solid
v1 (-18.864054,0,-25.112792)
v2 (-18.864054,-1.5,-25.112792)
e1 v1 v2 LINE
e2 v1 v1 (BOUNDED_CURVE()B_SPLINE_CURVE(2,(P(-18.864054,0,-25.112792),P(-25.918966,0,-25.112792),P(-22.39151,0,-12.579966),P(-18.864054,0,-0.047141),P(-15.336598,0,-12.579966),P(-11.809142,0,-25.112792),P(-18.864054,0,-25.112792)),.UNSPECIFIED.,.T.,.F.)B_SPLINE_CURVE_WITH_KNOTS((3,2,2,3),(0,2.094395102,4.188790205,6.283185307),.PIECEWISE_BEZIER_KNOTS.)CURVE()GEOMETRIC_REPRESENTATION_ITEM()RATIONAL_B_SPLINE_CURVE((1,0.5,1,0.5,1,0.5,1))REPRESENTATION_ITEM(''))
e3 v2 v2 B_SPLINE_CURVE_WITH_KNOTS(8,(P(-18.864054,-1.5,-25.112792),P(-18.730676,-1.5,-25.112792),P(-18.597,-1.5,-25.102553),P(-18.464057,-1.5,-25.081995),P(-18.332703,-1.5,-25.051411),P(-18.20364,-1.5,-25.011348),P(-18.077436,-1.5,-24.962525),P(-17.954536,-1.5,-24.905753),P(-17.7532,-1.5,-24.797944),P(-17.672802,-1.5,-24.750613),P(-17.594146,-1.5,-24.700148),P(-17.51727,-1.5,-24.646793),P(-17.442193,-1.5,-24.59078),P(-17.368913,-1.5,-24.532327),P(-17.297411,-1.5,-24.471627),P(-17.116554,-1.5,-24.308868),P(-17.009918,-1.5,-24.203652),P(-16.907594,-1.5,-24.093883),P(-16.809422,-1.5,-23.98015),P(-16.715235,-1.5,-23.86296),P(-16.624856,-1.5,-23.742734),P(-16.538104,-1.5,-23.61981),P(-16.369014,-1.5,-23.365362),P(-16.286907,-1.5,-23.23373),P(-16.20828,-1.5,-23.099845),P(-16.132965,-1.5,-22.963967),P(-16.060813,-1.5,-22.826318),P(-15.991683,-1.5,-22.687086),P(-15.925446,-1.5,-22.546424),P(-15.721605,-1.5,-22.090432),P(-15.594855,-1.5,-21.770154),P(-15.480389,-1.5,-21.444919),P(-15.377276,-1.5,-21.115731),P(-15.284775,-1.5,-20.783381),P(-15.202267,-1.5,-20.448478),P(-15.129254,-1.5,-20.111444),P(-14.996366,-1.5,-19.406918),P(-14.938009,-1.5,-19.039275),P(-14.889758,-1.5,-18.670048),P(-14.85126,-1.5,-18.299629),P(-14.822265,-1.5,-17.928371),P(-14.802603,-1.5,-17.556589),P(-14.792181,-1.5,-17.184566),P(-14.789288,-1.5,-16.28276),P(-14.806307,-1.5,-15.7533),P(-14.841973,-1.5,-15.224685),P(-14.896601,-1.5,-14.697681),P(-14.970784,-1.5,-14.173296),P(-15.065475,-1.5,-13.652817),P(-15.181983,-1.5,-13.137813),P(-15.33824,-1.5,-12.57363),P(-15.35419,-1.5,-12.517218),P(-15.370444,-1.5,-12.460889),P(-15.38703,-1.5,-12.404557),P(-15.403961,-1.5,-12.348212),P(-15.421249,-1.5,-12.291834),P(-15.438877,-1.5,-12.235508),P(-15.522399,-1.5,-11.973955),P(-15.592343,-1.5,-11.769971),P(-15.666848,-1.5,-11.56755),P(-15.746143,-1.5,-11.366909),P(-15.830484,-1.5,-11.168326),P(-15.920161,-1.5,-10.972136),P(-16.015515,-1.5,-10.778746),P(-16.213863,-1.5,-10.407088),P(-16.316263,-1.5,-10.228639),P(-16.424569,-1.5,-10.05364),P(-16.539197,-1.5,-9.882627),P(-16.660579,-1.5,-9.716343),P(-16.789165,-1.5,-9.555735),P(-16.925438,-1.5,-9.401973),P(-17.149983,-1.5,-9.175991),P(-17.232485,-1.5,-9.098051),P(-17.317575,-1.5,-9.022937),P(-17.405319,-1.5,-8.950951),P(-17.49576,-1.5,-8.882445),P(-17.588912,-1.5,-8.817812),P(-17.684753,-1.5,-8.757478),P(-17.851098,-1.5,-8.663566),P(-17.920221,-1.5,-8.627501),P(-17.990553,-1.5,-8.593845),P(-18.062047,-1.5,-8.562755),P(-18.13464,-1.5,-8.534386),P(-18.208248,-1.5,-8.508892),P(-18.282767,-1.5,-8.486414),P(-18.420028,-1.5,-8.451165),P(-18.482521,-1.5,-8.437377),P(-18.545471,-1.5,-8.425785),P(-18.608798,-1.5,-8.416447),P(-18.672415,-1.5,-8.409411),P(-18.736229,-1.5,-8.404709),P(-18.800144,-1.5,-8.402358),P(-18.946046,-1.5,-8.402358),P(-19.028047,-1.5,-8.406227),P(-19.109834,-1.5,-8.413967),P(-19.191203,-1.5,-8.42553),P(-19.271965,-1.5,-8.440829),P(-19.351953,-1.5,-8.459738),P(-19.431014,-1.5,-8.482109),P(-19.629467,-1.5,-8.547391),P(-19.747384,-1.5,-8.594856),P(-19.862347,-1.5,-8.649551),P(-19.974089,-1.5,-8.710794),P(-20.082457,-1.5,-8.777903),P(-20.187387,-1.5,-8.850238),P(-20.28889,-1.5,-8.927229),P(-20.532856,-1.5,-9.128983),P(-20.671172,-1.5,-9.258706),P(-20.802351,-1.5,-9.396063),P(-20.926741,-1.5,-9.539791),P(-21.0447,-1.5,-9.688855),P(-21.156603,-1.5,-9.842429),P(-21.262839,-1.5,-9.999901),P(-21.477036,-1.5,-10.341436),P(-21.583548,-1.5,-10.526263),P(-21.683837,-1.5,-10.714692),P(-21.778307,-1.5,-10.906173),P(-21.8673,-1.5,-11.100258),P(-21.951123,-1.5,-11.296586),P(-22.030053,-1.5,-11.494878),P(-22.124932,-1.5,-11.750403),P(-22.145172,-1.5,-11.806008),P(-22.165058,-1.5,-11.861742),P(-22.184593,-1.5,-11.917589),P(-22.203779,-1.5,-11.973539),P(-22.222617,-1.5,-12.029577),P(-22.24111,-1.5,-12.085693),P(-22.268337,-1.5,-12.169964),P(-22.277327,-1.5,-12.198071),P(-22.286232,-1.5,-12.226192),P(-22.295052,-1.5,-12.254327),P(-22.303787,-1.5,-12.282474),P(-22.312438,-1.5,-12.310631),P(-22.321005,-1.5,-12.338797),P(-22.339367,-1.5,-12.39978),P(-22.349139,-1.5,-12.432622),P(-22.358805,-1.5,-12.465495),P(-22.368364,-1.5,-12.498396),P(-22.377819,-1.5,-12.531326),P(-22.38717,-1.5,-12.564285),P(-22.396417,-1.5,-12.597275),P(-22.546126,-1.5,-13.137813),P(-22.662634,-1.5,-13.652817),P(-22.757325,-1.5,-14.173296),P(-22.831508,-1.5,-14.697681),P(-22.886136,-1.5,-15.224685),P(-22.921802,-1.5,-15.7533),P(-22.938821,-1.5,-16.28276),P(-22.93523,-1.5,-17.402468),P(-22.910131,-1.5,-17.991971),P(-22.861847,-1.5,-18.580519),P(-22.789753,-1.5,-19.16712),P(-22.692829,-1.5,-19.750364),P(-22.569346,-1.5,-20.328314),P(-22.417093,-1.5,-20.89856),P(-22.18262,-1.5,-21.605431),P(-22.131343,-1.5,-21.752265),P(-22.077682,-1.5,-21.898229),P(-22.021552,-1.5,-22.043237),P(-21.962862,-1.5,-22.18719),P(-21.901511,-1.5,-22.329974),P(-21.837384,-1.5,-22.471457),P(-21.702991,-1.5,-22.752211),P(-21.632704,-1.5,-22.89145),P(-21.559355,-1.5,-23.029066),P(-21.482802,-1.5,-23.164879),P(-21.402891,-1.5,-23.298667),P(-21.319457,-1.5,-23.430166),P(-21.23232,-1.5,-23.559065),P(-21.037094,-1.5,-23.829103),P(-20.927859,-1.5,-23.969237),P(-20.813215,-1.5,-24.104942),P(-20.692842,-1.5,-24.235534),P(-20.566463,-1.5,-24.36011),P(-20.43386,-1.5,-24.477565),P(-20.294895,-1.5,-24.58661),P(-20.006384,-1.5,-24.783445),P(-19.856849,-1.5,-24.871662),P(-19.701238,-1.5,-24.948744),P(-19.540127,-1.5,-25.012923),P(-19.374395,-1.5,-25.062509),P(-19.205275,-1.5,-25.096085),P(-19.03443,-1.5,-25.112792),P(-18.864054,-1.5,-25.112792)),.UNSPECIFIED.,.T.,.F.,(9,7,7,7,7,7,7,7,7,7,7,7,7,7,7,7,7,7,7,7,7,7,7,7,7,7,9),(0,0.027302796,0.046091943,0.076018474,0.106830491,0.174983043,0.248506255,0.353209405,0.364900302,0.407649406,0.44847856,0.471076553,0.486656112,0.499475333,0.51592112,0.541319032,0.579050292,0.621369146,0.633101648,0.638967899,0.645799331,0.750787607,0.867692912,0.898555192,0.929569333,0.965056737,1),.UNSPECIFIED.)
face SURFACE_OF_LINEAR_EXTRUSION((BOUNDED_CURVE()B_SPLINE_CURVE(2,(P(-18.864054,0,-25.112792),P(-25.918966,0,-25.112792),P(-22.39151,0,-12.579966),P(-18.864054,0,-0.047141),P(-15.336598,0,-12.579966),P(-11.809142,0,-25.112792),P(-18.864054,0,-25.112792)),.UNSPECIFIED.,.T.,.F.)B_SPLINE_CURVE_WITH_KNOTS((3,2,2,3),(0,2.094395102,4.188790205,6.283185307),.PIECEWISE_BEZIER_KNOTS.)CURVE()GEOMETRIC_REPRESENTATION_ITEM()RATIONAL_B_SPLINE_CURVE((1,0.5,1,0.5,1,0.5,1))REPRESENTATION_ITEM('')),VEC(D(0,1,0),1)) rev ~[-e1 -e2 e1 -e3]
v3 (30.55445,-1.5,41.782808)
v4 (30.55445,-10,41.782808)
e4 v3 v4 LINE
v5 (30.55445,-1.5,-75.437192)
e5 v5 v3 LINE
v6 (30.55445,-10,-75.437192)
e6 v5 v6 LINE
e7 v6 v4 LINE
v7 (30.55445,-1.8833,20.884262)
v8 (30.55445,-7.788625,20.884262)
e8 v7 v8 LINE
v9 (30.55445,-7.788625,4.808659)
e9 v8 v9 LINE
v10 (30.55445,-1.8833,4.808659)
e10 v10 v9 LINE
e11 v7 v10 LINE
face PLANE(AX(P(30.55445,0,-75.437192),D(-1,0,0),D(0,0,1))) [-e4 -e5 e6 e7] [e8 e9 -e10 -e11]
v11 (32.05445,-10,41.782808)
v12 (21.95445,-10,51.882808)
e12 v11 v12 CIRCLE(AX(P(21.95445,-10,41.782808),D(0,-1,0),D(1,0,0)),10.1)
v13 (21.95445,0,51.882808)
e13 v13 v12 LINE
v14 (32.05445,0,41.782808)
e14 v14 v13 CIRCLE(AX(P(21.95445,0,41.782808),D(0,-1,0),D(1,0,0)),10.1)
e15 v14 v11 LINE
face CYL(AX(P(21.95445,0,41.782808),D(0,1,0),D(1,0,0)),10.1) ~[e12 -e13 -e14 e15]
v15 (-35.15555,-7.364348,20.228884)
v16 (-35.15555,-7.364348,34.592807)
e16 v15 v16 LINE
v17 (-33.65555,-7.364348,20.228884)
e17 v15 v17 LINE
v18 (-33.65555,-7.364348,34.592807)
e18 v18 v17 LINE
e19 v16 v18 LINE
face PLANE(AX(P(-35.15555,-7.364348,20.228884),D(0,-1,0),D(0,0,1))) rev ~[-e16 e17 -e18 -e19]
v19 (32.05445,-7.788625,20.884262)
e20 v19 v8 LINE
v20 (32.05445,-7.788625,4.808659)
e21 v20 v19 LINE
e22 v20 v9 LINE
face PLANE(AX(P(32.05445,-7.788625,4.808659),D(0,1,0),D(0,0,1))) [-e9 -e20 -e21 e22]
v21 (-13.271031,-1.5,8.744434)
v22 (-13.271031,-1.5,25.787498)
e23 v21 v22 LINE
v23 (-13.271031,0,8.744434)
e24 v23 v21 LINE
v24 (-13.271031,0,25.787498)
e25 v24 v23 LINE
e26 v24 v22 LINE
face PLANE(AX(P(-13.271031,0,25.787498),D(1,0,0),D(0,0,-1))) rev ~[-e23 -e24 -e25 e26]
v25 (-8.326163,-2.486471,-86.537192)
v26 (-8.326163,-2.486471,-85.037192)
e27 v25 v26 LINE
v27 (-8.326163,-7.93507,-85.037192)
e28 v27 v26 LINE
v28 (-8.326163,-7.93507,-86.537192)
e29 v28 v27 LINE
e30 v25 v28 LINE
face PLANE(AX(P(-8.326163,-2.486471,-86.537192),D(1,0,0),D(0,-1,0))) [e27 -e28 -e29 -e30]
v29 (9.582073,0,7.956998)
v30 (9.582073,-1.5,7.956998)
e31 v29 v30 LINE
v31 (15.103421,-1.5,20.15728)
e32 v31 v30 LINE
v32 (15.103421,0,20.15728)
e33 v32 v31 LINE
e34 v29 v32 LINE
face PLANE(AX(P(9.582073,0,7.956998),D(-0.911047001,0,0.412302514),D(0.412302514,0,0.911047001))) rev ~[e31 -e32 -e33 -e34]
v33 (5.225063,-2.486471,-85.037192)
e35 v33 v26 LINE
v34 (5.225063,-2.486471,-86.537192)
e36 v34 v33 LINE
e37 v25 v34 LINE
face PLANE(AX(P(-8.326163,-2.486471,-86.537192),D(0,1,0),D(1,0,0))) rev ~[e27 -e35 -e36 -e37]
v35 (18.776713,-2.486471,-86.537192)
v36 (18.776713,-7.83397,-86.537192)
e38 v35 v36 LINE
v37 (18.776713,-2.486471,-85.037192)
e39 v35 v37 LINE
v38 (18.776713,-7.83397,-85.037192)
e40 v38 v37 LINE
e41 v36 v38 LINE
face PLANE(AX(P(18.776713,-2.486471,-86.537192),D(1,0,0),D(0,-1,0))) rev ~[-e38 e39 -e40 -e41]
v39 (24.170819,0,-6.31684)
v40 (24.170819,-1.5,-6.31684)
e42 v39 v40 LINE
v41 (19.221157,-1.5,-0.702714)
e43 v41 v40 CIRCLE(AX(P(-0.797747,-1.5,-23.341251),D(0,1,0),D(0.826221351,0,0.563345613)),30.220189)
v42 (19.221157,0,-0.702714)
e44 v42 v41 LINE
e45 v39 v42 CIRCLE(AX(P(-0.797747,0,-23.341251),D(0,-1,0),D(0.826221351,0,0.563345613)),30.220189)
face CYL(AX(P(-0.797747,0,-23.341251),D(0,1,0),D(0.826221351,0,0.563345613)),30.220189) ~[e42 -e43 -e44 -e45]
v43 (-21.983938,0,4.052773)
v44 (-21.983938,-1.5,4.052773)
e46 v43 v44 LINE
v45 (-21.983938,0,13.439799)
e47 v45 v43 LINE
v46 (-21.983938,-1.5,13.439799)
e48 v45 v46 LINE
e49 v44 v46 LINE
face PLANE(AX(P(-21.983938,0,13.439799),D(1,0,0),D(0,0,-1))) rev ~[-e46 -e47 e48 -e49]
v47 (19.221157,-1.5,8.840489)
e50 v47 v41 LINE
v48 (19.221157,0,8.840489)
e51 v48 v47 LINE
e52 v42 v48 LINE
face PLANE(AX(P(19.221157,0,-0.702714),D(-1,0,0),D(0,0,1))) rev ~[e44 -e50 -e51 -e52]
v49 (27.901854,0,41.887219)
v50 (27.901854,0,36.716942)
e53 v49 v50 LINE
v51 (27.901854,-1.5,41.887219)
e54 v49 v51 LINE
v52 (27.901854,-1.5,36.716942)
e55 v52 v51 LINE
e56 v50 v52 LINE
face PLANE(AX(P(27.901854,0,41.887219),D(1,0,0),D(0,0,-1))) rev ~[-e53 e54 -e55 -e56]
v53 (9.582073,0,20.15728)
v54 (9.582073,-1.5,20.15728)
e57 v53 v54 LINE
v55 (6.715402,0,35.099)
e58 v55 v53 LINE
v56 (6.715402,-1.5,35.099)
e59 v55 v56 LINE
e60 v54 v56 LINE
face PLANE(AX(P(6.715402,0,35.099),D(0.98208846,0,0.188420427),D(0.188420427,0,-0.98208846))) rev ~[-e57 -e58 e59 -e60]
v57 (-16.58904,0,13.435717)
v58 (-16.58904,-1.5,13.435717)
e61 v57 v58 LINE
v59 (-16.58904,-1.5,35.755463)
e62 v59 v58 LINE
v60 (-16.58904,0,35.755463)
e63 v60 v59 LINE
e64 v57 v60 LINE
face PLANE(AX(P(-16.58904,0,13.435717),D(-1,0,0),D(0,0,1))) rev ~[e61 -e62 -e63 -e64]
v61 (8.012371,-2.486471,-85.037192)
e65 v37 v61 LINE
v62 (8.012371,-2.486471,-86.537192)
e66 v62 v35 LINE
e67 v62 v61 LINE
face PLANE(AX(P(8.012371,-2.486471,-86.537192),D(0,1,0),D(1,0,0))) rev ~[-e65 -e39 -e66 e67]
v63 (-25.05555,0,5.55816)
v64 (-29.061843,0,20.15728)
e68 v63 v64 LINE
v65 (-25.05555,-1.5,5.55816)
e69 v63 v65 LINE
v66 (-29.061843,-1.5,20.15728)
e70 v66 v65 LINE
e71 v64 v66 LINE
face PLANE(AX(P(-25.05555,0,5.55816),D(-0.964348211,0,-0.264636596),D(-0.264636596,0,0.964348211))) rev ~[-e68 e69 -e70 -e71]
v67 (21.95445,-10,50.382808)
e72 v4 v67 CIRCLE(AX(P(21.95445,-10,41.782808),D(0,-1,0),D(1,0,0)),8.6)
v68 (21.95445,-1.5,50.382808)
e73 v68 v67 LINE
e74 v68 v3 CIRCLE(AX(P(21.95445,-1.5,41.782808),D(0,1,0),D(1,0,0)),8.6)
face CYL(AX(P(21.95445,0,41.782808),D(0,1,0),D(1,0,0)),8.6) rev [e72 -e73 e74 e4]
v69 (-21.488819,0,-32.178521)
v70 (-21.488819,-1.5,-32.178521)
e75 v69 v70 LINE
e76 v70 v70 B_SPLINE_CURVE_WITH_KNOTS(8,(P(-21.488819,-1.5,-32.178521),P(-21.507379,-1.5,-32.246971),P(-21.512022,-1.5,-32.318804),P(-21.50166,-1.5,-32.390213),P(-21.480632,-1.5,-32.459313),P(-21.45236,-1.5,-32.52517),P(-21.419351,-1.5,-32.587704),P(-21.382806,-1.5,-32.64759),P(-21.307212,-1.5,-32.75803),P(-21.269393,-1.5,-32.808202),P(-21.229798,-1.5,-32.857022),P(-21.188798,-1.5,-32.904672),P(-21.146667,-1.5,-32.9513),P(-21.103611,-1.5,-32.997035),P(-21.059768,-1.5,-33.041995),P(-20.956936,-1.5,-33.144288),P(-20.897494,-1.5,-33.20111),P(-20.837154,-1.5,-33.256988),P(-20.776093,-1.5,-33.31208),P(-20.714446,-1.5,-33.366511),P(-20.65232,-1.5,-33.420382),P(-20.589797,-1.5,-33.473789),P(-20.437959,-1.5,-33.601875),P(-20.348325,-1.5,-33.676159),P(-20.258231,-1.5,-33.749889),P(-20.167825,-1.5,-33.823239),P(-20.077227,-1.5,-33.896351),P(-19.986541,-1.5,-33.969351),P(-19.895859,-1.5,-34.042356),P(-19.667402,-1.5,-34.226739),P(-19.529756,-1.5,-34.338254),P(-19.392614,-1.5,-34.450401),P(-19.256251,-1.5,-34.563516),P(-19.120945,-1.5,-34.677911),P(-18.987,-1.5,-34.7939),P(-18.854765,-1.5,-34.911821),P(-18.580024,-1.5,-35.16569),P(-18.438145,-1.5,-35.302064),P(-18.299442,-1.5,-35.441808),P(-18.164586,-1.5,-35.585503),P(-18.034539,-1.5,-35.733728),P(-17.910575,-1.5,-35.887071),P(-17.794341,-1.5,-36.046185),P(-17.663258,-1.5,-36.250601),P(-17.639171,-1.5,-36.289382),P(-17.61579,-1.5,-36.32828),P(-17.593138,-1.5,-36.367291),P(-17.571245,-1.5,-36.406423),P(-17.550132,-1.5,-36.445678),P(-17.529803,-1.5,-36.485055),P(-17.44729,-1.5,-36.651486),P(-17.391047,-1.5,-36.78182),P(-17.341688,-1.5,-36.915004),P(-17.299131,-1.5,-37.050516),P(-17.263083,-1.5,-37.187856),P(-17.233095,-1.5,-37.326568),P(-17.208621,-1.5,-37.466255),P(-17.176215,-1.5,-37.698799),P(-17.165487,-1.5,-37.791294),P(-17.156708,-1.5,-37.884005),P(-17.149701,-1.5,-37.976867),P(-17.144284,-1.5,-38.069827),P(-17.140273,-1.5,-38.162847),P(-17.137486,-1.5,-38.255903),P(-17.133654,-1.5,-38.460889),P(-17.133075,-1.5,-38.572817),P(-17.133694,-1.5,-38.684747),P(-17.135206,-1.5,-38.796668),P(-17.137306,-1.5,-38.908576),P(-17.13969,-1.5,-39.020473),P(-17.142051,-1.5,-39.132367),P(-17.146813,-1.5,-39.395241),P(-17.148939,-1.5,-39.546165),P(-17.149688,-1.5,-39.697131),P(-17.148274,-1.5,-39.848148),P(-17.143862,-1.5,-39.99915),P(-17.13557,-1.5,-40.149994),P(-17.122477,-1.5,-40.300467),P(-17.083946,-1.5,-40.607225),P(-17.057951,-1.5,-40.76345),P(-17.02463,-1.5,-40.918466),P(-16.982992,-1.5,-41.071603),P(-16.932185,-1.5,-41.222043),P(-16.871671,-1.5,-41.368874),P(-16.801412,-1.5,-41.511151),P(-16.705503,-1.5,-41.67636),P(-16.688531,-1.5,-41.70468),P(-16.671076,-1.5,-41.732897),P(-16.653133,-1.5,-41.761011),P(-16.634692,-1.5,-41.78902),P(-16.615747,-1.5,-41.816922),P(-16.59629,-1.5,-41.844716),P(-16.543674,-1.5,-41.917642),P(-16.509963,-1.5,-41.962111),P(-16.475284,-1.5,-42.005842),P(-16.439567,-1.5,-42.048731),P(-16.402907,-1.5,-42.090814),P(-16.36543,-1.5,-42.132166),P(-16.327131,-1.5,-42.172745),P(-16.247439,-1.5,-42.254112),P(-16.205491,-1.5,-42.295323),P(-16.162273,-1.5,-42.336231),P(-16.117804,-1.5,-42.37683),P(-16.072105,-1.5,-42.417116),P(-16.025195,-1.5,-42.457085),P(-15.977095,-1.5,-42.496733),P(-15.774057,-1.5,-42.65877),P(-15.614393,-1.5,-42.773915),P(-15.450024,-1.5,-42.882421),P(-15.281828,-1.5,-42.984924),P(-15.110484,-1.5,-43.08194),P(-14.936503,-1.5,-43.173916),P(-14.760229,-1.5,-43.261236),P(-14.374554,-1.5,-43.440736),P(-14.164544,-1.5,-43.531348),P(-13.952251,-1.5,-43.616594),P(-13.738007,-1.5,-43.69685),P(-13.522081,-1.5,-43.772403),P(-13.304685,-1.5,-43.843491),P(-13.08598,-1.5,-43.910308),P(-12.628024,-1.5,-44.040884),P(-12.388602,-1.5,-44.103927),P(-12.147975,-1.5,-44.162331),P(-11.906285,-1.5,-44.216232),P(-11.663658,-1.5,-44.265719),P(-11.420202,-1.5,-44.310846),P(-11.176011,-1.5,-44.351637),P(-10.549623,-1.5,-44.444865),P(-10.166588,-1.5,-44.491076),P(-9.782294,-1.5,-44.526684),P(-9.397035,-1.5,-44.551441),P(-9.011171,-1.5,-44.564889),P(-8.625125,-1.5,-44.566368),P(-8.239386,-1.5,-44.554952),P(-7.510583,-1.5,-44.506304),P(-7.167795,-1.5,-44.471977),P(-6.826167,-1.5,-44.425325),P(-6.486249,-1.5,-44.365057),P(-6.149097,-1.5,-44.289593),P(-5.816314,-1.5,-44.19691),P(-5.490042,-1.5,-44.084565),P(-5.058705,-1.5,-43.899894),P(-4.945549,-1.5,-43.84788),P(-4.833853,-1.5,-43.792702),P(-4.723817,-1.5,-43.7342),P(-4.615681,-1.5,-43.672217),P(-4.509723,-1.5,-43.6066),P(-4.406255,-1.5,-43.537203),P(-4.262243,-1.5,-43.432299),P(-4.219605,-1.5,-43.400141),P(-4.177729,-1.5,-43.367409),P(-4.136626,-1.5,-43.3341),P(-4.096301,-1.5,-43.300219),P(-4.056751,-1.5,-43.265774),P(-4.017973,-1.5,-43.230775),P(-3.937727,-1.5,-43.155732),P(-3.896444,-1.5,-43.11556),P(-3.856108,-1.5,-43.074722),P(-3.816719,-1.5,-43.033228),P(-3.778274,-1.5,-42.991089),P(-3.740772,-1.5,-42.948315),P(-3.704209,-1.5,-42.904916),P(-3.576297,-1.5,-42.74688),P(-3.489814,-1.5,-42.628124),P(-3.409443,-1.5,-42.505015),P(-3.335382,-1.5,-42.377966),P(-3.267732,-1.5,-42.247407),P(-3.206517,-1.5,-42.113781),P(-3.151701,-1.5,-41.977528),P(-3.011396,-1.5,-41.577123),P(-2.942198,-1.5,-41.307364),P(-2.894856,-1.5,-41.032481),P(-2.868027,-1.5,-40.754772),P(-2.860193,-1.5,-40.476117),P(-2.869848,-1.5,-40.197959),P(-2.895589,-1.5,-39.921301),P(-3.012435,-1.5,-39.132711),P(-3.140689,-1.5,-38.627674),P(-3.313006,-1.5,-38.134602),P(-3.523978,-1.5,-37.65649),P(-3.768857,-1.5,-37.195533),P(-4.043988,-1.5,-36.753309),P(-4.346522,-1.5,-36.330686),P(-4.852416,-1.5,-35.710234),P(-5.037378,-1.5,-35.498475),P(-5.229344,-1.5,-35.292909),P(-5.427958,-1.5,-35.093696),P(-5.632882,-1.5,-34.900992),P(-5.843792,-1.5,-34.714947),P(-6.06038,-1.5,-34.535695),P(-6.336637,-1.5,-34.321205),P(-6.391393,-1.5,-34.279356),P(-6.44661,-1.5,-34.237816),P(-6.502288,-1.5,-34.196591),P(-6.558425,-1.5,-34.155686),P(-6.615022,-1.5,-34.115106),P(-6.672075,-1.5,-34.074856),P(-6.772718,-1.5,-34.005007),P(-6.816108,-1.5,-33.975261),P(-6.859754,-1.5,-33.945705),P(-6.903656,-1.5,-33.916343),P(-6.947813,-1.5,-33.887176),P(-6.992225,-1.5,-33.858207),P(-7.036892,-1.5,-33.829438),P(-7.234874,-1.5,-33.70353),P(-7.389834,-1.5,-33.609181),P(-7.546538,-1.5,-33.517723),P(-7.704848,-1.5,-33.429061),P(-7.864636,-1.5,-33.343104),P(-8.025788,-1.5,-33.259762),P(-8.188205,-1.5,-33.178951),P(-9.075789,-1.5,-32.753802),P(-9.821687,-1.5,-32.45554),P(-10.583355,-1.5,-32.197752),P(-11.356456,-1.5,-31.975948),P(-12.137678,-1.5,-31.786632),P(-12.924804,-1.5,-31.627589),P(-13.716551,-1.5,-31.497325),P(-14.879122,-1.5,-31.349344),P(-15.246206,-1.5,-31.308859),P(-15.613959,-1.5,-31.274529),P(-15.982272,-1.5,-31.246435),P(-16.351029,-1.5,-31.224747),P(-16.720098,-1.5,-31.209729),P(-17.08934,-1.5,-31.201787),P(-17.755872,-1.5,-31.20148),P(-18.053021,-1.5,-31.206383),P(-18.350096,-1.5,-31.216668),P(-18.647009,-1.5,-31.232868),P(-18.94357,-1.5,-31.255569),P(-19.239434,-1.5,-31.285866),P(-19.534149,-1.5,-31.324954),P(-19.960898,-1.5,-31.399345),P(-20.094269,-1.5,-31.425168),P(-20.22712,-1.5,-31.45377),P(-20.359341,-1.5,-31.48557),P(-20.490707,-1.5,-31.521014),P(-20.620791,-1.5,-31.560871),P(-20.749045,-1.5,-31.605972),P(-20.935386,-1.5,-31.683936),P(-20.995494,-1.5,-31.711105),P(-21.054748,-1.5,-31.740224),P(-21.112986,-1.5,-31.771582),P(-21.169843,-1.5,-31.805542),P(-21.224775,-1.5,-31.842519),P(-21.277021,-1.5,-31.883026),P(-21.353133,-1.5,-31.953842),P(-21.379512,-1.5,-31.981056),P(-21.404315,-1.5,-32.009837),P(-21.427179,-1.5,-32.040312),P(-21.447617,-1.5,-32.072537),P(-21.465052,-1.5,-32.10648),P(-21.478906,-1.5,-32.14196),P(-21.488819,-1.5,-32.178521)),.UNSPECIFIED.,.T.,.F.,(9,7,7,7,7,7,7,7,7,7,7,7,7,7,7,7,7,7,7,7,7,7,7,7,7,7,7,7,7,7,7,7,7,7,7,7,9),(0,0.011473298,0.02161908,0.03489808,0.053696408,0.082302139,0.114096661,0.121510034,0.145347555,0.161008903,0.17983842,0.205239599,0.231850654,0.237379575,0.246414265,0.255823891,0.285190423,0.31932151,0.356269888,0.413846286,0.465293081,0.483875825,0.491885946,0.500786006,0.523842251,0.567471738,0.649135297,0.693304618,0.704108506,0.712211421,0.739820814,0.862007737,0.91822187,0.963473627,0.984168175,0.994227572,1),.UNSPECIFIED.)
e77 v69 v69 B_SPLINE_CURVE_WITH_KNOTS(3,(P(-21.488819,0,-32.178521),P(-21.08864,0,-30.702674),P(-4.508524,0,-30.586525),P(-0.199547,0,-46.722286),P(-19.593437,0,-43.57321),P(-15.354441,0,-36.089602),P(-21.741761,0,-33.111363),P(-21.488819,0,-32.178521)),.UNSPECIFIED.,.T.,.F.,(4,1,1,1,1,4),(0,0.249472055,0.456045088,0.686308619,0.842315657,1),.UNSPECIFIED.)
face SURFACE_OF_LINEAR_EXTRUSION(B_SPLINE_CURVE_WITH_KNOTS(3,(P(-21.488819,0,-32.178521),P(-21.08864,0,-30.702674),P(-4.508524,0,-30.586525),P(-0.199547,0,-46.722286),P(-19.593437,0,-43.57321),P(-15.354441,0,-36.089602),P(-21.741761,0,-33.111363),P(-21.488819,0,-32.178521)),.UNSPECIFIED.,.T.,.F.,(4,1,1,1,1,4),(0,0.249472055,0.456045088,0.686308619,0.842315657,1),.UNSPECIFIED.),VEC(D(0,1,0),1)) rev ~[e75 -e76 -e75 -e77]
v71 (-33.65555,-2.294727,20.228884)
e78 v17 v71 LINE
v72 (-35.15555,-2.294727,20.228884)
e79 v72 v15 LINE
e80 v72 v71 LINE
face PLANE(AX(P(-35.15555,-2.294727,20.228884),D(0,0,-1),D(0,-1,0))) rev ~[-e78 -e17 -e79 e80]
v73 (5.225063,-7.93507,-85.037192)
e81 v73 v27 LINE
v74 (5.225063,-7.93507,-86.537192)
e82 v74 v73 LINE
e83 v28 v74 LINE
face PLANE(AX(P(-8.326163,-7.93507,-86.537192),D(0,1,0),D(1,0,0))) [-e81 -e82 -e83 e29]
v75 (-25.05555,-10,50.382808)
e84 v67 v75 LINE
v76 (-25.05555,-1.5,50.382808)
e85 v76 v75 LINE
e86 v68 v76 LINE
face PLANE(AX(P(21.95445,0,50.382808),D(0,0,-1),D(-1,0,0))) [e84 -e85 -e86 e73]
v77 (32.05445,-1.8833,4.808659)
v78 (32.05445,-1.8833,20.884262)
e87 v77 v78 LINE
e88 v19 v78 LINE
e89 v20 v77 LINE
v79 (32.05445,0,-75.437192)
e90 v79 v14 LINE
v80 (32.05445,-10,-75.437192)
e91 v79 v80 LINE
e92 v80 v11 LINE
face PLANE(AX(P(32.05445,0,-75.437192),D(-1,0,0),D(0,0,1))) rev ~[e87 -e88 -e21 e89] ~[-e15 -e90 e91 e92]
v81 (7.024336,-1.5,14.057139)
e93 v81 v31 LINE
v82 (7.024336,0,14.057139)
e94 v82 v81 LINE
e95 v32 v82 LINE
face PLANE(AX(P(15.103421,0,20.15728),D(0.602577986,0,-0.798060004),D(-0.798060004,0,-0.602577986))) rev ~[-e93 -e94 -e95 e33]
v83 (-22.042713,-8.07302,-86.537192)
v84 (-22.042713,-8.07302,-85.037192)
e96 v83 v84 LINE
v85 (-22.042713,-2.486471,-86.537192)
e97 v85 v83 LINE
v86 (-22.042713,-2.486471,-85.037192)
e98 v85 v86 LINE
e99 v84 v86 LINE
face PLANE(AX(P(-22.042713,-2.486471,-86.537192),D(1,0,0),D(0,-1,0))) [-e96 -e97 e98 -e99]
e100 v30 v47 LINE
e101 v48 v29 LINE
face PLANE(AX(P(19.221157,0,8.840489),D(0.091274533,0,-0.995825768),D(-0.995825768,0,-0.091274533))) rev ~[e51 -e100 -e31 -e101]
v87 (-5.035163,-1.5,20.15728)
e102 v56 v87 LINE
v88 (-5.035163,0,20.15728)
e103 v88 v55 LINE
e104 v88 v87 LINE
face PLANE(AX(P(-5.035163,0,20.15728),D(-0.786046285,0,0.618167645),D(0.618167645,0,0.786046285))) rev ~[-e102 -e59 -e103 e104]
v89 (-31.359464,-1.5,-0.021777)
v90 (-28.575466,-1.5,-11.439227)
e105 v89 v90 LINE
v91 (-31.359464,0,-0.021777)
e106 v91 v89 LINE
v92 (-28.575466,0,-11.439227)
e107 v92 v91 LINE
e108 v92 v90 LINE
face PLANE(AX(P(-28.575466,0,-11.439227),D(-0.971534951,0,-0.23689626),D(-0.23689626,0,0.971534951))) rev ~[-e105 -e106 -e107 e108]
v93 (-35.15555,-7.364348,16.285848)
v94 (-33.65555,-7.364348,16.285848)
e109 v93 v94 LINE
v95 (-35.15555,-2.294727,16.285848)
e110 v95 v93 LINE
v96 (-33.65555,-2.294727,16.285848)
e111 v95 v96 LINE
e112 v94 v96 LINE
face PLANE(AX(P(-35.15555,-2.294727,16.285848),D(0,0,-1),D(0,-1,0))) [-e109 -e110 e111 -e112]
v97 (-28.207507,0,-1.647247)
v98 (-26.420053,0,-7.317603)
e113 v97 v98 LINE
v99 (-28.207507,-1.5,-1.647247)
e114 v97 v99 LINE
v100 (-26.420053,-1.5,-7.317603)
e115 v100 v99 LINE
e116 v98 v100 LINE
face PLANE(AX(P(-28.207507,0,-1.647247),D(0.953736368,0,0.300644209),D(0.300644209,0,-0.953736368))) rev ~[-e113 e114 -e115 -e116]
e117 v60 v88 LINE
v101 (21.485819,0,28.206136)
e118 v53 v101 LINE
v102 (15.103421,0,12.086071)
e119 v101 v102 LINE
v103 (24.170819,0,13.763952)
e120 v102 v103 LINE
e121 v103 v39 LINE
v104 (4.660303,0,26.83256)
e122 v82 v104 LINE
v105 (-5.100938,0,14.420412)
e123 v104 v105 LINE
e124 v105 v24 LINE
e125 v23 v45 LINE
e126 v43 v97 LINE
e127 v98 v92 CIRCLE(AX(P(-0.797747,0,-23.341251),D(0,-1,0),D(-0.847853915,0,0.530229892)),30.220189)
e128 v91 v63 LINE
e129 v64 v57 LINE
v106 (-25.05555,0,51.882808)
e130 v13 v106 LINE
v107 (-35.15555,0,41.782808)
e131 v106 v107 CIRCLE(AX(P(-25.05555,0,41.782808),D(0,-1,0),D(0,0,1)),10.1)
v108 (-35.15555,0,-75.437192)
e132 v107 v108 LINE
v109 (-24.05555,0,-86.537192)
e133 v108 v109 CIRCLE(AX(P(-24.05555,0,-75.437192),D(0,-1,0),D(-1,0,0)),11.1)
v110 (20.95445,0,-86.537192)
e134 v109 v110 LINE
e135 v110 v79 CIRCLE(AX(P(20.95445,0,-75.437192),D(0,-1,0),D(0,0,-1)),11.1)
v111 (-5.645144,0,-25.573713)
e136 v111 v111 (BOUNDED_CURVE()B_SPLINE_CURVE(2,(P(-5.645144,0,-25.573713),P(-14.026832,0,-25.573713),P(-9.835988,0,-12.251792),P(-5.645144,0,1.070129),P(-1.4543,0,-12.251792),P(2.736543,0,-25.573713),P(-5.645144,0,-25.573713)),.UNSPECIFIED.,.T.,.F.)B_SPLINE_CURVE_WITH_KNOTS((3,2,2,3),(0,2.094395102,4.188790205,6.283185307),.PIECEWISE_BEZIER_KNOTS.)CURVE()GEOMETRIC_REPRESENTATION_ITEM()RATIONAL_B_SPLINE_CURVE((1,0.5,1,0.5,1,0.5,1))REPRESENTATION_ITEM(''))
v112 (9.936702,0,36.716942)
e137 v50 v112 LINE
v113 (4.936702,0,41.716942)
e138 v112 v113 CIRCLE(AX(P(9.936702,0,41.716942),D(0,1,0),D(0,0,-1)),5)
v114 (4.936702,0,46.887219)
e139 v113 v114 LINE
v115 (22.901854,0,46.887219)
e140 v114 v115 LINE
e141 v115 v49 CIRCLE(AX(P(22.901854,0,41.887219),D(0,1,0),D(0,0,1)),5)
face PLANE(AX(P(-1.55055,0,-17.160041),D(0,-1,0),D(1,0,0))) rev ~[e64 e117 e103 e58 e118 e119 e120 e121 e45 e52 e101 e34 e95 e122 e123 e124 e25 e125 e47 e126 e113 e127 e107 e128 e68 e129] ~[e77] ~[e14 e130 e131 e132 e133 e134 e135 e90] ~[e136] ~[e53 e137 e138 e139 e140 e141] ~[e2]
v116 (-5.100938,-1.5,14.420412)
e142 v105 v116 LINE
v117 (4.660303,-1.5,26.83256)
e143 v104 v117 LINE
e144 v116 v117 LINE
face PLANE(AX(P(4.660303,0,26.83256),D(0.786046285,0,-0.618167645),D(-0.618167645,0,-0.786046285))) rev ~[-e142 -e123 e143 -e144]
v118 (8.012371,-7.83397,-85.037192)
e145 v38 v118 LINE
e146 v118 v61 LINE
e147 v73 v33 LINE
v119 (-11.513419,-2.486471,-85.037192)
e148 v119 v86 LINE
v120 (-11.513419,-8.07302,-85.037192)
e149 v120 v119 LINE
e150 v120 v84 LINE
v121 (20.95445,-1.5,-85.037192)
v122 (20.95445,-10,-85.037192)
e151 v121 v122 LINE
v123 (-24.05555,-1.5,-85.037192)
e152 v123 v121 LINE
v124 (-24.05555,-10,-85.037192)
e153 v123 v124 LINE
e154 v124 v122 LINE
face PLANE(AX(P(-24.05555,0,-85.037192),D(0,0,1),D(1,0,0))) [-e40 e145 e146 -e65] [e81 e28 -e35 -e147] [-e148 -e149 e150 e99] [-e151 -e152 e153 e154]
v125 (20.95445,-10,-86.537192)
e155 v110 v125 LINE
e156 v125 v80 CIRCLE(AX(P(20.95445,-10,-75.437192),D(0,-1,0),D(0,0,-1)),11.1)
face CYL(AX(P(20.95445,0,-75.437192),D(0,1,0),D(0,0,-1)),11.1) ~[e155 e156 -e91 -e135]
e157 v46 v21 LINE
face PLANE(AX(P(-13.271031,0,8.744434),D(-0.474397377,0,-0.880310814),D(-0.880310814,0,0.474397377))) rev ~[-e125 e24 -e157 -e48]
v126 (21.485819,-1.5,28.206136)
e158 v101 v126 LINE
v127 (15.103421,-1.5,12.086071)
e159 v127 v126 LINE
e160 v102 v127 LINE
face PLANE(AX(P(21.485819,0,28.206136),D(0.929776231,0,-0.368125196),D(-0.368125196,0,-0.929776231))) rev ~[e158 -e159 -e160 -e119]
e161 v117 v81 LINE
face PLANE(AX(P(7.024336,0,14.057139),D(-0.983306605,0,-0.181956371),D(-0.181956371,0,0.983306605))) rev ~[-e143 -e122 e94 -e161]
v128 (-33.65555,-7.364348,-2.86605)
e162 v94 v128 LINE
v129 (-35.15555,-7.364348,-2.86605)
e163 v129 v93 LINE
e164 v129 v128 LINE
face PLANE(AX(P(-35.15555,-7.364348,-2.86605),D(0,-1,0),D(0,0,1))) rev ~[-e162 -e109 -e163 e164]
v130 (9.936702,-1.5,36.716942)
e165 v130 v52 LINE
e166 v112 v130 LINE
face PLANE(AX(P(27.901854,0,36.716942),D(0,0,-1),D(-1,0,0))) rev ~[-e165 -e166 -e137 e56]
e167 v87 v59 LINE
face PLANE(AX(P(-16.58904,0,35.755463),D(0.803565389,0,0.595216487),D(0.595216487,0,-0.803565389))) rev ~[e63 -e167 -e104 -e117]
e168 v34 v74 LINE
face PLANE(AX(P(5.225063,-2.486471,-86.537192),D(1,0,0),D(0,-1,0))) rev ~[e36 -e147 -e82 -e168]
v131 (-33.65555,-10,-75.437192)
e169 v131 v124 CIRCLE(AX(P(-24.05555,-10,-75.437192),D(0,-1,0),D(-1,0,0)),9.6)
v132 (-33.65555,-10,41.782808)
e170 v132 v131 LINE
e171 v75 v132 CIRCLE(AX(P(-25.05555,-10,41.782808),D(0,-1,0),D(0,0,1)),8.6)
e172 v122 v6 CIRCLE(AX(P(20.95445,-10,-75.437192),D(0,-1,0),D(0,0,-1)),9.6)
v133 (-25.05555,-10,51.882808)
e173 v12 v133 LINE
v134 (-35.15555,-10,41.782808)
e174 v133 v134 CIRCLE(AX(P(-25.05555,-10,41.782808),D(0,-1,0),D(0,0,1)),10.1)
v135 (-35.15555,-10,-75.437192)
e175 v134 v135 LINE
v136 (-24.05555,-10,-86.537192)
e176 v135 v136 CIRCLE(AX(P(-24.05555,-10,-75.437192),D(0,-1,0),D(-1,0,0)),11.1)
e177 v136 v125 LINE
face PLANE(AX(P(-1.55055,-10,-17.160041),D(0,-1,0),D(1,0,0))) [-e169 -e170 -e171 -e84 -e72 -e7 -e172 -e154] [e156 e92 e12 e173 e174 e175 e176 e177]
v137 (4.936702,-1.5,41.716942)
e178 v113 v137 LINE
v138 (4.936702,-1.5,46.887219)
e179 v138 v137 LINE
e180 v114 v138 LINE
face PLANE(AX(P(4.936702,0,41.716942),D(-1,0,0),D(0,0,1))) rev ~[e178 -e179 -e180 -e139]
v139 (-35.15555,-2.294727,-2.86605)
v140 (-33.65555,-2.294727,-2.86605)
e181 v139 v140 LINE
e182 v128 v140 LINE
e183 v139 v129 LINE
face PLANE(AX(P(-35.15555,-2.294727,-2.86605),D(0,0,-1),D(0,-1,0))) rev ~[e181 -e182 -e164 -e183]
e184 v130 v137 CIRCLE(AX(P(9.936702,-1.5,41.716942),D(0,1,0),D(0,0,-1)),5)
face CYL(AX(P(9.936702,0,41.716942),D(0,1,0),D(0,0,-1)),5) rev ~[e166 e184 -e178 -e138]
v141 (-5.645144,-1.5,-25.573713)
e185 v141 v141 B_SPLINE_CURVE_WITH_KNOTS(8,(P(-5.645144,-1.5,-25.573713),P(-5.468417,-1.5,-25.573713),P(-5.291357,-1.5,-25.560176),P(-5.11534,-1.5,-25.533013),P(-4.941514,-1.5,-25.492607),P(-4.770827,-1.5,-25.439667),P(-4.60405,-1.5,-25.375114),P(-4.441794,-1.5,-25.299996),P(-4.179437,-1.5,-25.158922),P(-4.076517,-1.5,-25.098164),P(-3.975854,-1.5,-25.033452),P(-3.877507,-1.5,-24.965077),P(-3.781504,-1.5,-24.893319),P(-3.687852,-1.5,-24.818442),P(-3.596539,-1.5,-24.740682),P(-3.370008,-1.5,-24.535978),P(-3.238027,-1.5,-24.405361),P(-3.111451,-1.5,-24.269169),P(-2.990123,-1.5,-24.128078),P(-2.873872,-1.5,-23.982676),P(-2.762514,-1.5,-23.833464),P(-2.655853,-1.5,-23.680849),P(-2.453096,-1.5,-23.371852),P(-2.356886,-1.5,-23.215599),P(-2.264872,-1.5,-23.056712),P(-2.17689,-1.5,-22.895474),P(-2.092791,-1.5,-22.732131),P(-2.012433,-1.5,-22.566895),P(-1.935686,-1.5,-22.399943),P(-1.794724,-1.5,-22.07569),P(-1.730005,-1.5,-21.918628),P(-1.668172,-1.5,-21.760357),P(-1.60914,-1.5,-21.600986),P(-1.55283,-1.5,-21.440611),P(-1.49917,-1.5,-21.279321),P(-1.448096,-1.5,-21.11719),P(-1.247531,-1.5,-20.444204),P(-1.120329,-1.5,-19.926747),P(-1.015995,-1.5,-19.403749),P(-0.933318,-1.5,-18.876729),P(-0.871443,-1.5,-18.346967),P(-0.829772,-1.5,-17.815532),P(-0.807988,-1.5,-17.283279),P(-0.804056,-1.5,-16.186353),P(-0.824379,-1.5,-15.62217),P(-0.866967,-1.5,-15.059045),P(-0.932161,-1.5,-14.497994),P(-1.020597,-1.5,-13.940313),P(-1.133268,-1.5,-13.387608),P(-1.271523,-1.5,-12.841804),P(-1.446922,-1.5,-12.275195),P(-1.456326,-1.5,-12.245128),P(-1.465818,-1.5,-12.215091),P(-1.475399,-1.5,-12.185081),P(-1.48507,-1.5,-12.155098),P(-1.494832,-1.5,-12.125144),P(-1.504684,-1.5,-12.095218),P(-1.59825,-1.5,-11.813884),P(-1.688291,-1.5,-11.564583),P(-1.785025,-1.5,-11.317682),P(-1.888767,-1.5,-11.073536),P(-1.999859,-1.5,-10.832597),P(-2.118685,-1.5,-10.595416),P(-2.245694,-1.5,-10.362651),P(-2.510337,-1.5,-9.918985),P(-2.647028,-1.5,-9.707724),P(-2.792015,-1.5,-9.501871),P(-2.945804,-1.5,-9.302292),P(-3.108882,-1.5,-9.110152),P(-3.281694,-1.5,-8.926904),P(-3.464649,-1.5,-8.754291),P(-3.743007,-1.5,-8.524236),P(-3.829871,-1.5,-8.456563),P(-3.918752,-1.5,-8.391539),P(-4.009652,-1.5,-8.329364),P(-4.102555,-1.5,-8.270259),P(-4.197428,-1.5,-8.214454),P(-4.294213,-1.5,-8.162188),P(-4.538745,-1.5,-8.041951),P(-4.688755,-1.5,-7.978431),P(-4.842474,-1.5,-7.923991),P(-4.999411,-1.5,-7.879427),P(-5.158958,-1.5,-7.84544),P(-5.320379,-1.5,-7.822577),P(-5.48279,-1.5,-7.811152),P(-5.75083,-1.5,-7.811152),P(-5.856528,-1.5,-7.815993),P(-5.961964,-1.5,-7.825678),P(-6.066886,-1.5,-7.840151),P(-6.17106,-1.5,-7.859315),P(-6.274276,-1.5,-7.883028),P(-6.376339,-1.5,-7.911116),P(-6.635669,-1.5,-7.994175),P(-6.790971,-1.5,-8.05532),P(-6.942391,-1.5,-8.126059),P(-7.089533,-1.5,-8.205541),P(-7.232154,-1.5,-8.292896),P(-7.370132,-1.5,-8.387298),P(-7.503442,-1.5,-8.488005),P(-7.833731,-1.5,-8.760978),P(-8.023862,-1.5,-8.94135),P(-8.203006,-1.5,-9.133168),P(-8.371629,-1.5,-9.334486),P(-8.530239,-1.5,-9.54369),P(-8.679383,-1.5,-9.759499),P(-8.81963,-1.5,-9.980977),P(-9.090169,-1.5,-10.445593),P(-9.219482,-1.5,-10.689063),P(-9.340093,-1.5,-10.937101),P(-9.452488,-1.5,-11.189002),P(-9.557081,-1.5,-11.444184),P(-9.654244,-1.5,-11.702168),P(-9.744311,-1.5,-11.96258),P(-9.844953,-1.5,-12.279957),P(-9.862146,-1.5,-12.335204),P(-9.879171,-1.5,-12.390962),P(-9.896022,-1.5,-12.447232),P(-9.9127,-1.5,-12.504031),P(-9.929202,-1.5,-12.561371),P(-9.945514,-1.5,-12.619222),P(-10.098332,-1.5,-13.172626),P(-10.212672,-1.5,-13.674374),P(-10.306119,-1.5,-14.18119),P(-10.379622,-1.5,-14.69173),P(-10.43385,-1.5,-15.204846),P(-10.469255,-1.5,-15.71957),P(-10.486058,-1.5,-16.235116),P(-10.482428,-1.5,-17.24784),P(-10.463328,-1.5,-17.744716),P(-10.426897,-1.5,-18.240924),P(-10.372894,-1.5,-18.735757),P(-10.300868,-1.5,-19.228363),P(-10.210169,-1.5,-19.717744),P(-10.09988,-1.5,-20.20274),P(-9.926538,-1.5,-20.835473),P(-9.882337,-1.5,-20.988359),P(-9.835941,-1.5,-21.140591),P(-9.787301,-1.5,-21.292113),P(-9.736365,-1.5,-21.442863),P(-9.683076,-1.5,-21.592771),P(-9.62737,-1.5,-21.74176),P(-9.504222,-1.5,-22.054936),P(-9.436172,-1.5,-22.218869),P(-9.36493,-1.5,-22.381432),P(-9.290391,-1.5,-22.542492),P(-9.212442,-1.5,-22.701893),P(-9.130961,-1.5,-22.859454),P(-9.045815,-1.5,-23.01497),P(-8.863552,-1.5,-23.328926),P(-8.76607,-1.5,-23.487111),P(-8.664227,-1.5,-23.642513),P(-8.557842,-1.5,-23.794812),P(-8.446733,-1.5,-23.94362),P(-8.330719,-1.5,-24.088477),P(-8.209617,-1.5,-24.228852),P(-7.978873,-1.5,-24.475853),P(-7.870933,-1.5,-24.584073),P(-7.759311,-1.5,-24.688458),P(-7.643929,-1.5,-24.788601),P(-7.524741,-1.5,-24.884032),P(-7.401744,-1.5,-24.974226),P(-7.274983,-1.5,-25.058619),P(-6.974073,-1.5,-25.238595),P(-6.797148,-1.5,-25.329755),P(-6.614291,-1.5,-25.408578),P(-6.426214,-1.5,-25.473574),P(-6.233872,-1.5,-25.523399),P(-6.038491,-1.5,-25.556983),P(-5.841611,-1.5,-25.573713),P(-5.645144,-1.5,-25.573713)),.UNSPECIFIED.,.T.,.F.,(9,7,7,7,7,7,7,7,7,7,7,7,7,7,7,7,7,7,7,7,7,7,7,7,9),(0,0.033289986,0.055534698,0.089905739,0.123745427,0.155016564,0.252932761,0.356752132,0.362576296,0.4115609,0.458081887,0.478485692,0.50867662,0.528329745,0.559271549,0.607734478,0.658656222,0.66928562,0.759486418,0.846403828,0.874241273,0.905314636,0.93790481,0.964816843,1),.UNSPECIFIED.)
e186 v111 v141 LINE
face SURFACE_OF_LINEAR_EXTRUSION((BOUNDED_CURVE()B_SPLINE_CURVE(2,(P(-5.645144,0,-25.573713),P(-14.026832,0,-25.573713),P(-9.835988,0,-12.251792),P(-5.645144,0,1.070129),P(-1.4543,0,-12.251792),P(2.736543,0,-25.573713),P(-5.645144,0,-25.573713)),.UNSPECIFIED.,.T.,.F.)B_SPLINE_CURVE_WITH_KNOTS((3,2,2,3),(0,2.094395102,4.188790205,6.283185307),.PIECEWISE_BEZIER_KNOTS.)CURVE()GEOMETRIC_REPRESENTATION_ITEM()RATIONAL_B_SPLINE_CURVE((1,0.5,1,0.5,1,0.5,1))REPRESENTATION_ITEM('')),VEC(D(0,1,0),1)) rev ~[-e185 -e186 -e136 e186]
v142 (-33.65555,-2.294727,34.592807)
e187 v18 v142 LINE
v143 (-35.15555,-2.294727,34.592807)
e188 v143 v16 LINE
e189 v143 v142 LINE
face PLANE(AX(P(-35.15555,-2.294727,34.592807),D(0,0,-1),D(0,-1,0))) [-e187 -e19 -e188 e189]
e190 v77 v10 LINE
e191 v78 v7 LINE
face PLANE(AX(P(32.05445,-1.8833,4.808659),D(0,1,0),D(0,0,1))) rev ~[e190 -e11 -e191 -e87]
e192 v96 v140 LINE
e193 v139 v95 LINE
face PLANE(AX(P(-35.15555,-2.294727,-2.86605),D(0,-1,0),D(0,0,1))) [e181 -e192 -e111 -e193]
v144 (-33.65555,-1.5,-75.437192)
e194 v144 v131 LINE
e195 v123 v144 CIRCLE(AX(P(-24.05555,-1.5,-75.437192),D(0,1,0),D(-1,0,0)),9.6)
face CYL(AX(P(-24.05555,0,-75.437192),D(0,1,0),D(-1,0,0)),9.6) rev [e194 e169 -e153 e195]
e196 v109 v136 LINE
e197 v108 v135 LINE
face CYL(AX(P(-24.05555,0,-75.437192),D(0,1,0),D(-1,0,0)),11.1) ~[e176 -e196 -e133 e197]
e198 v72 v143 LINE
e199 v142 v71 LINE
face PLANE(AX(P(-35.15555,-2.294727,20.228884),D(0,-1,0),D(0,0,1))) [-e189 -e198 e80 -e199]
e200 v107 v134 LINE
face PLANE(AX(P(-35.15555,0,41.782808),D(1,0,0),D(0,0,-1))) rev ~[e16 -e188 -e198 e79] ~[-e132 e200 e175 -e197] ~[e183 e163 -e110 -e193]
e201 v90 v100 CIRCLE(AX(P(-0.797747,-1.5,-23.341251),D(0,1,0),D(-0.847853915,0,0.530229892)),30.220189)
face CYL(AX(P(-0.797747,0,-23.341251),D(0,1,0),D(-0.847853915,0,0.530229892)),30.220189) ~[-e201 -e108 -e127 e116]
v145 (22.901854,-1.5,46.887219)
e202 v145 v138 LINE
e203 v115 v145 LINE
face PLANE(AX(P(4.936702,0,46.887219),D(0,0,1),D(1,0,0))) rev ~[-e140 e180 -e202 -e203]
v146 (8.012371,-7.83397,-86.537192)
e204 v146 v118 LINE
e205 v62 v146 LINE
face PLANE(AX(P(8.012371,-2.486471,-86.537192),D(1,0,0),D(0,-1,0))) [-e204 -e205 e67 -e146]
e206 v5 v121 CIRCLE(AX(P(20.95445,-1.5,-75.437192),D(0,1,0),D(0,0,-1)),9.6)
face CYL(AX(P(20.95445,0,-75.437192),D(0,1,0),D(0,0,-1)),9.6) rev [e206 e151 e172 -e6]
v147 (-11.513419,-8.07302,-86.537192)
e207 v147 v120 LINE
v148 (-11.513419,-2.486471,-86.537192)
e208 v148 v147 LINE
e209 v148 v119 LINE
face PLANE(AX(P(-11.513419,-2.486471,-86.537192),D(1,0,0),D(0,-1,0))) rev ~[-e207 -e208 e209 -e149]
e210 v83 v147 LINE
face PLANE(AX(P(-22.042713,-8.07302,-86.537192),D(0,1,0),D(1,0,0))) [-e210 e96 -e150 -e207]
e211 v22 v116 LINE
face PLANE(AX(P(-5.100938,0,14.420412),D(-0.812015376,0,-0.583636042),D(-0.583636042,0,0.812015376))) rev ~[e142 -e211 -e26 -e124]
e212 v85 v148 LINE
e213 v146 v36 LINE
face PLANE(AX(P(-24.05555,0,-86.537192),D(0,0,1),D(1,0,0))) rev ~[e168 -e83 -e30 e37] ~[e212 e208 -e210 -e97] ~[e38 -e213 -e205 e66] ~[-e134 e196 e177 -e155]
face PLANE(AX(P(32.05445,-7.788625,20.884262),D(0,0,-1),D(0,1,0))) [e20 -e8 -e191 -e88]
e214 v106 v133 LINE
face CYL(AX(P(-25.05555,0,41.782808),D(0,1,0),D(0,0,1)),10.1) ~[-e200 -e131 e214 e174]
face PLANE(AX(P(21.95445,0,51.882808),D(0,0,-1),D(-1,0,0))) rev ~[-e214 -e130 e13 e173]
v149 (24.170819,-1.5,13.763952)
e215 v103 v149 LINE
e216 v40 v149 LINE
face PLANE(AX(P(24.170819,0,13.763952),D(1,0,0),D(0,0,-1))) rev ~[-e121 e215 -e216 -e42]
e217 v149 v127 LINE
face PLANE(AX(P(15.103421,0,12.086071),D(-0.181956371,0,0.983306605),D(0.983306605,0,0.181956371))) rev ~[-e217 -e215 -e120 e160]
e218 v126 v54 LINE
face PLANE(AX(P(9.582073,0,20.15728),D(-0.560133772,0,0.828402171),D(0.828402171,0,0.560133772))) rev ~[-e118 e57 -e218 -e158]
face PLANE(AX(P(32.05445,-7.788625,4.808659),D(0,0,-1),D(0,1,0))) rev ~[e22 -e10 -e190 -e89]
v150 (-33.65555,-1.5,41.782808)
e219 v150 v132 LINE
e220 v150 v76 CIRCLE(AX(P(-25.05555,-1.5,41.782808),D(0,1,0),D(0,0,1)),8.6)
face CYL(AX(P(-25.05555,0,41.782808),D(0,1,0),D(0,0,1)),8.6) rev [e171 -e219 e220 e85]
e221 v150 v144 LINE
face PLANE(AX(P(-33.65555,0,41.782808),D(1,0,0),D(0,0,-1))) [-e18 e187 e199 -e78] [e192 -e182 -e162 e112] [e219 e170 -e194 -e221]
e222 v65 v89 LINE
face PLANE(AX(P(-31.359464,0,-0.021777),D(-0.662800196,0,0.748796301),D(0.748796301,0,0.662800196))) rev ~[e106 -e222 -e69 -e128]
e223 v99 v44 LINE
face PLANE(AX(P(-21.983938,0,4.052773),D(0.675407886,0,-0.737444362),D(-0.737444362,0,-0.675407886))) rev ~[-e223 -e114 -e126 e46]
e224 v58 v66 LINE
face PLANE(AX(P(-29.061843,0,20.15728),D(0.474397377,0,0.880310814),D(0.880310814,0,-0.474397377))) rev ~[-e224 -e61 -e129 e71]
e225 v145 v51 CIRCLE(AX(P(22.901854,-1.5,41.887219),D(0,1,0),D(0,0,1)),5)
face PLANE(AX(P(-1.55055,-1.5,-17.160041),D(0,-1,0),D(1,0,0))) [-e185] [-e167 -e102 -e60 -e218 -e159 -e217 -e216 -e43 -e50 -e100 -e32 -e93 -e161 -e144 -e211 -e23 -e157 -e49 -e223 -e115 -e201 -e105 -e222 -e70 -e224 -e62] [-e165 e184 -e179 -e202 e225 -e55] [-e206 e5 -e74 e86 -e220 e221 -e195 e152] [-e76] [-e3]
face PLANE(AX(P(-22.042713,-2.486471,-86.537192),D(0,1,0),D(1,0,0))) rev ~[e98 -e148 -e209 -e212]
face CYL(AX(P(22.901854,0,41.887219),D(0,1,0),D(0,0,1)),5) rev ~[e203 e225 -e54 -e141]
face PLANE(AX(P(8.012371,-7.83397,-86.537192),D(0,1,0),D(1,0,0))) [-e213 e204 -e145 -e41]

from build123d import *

# Parameters (mm, degrees)
F1_DEPTH  = 10
F2_T      = -2.5
F4_DEPTH  = 25
F5_DEPTH  = 10
F6_DEPTH  = 10
F7_T      = -1.5
F8_W      = 5.0696202088
F8_H      = 19.1518978681
F8_H_2    = 14.3639231101
F9_DEPTH  = 25
F10_W     = 10.5292941444
F10_H     = 5.5865490576
F10_W_2   = 13.5512258646
F10_H_2   = 5.4485995788
F10_W_3   = 10.7643418014
F10_H_3   = 5.3474996239
F11_DEPTH = 25
F12_W     = 5.9053241275
F12_H     = 16.0756031983
F13_DEPTH = 10
F15_DEPTH = 25
F17_DEPTH = 25


with BuildPart() as f1:
    # F0 (on Front) → F1 (new body)
    with BuildSketch(Plane.XZ):
        with BuildLine():
            Line((21.9544503482, 51.8828080004), (-25.0555496518, 51.8828080004))
            ThreePointArc((-25.0555496518, 51.8828080004), (-32.1973281418, 48.9245864904), (-35.1555496518, 41.7828080004))
            Line((-35.1555496518, 41.7828080004), (-35.1555496518, -75.4371919996))
            ThreePointArc((-35.1555496518, -75.4371919996), (-31.904434923, -83.2860772707), (-24.0555496518, -86.5371919996))
            Line((-24.0555496518, -86.5371919996), (20.9544503482, -86.5371919996))
            ThreePointArc((20.9544503482, -86.5371919996), (28.8033356193, -83.2860772707), (32.0544503482, -75.4371919996))
            Line((32.0544503482, -75.4371919996), (32.0544503482, 41.7828080004))
            ThreePointArc((32.0544503482, 41.7828080004), (29.0962288381, 48.9245864904), (21.9544503482, 51.8828080004))
        make_face()
    extrude(amount=F1_DEPTH)

    # F2
    f2_openings = [f1.faces().sort_by_distance(p)[0] for p in [
        (-1.55055, -10, -17.262302),
    ]]
    offset(amount=F2_T, openings=f2_openings)

    # F4 (cut): a face of the model
    f4_faces = [f1.faces().sort_by_distance(p)[0] for p in [
        (-1.5505496518, -2.5, -17.2732166404),
    ]]
    extrude(f4_faces, amount=-F4_DEPTH, mode=Mode.SUBTRACT)

    # F0 (on Front) → F5 (join)
    with BuildSketch(Plane.XZ):
        with BuildLine():
            Line((21.9544503482, 51.8828080004), (-25.0555496518, 51.8828080004))
            ThreePointArc((-25.0555496518, 51.8828080004), (-32.1973281418, 48.9245864904), (-35.1555496518, 41.7828080004))
            Line((-35.1555496518, 41.7828080004), (-35.1555496518, -75.4371919996))
            ThreePointArc((-35.1555496518, -75.4371919996), (-31.904434923, -83.2860772707), (-24.0555496518, -86.5371919996))
            Line((-24.0555496518, -86.5371919996), (20.9544503482, -86.5371919996))
            ThreePointArc((20.9544503482, -86.5371919996), (28.8033356193, -83.2860772707), (32.0544503482, -75.4371919996))
            Line((32.0544503482, -75.4371919996), (32.0544503482, 41.7828080004))
            ThreePointArc((32.0544503482, 41.7828080004), (29.0962288381, 48.9245864904), (21.9544503482, 51.8828080004))
        make_face()
    extrude(amount=F5_DEPTH)

    # F0 (on Front) → F6 (join)
    with BuildSketch(Plane.XZ):
        with BuildLine():
            Line((21.9544503482, 51.8828080004), (-25.0555496518, 51.8828080004))
            ThreePointArc((-25.0555496518, 51.8828080004), (-32.1973281418, 48.9245864904), (-35.1555496518, 41.7828080004))
            Line((-35.1555496518, 41.7828080004), (-35.1555496518, -75.4371919996))
            ThreePointArc((-35.1555496518, -75.4371919996), (-31.904434923, -83.2860772707), (-24.0555496518, -86.5371919996))
            Line((-24.0555496518, -86.5371919996), (20.9544503482, -86.5371919996))
            ThreePointArc((20.9544503482, -86.5371919996), (28.8033356193, -83.2860772707), (32.0544503482, -75.4371919996))
            Line((32.0544503482, -75.4371919996), (32.0544503482, 41.7828080004))
            ThreePointArc((32.0544503482, 41.7828080004), (29.0962288381, 48.9245864904), (21.9544503482, 51.8828080004))
        make_face()
    extrude(amount=F6_DEPTH)

    # F7
    f7_openings = [f1.faces().sort_by_distance(p)[0] for p in [
        (-1.55055, -10, -17.262302),
    ]]
    offset(amount=F7_T, openings=f7_openings)

    # F8 (on face) → F9 (cut)
    with BuildSketch(Plane(origin=(-35.1555496518, 0, 0), x_dir=(0, -1, 0), z_dir=(-1, 0, 0))):
        with Locations((4.8295374727, 6.7098989384)):
            Rectangle(F8_W, F8_H)
        with Locations((4.8295374727, 27.4108457379)):
            Rectangle(F8_W, F8_H_2)
    extrude(amount=-F9_DEPTH, mode=Mode.SUBTRACT)

    # F10 (on face) → F11 (cut)
    with BuildSketch(Plane(origin=(0, 0, -86.5371919996), x_dir=(1, 0, 0), z_dir=(0, 0, -1))):
        with Locations((-16.7780660558, 5.2797452663)):
            Rectangle(F10_W, F10_H)
        with Locations((-1.5505496518, 5.2107705269)):
            Rectangle(F10_W_2, F10_H_2)
        with Locations((13.3945420384, 5.1602205494)):
            Rectangle(F10_W_3, F10_H_3)
    extrude(amount=-F11_DEPTH, mode=Mode.SUBTRACT)

    # F12 (on face) → F13 (cut)
    with BuildSketch(Plane.YZ.offset(32.0544503482)):
        with Locations((-4.8359625507, 12.8464607988)):
            Rectangle(F12_W, F12_H)
    extrude(amount=-F13_DEPTH, mode=Mode.SUBTRACT)

    # F14 (on face) → F15 (cut)
    with BuildSketch(Plane(origin=(0, 0, 0), x_dir=(-1, 0, 0), z_dir=(0, 1, 0))):
        with BuildLine():
            Line((-4.9367016181, 41.7169417441), (-4.9367016181, 46.8872189522))
            Line((-4.9367016181, 46.8872189522), (-22.9018543661, 46.8872189522))
            ThreePointArc((-22.9018543661, 46.8872189522), (-26.437388272, 45.4227528581), (-27.9018543661, 41.8872189522))
            Line((-27.9018543661, 41.8872189522), (-27.9018543661, 36.7169417441))
            Line((-27.9018543661, 36.7169417441), (-9.9367016181, 36.7169417441))
            ThreePointArc((-9.9367016181, 36.7169417441), (-6.4011677122, 38.1814078382), (-4.9367016181, 41.7169417441))
        make_face()
    extrude(amount=-F15_DEPTH, mode=Mode.SUBTRACT)

    # F16 (on face) → F17 (cut)
    with BuildSketch(Plane(origin=(0, 0, 0), x_dir=(-1, 0, 0), z_dir=(0, 1, 0))):
        with BuildLine():
            ThreePointArc((26.4200529613, -7.3176028738), (27.5771721965, -9.3368857226), (28.5754660633, -11.4392266806))
            Line((28.5754660633, -11.4392266806), (31.3594639301, -0.0217765737))
            Line((31.3594639301, -0.0217765737), (25.0555496518, 5.558159668))
            Line((25.0555496518, 5.558159668), (29.0618427098, 20.1572801091))
            Line((29.0618427098, 20.1572801091), (16.5890399367, 13.4357167408))
            Line((16.5890399367, 13.4357167408), (16.5890399367, 35.7554629445))
            Line((16.5890399367, 35.7554629445), (5.0351630362, 20.1572801091))
            Line((5.0351630362, 20.1572801091), (-6.7154015414, 35.0989997387))
            Line((-6.7154015414, 35.0989997387), (-9.5820732453, 20.1572801091))
            Line((-9.5820732453, 20.1572801091), (-21.48581855, 28.2061360776))
            Line((-21.48581855, 28.2061360776), (-15.1034205345, 12.0860713894))
            Line((-15.1034205345, 12.0860713894), (-24.1708188182, 13.7639517974))
            Line((-24.1708188182, 13.7639517974), (-24.1708188182, -6.3168395026))
            ThreePointArc((-24.1708188182, -6.3168395026), (-21.870462247, -3.3559524745), (-19.2211569677, -0.7027140973))
            Line((-19.2211569677, -0.7027140973), (-19.2211569677, 8.8404889854))
            Line((-19.2211569677, 8.8404889854), (-9.5820732453, 7.9569982246))
            Line((-9.5820732453, 7.9569982246), (-15.1034205345, 20.1572801091))
            Line((-15.1034205345, 20.1572801091), (-7.0243359757, 14.0571391668))
            Line((-7.0243359757, 14.0571391668), (-4.6603031142, 26.8325595181))
            Line((-4.6603031142, 26.8325595181), (5.1009384915, 14.4204124808))
            Line((5.1009384915, 14.4204124808), (13.2710309699, 25.7874978435))
            Line((13.2710309699, 25.7874978435), (13.2710309699, 8.7444344535))
            Line((13.2710309699, 8.7444344535), (21.9839378688, 13.4397989926))
            Line((21.9839378688, 13.4397989926), (21.9839378688, 4.052773118))
            Line((21.9839378688, 4.052773118), (28.207506791, -1.6472467687))
            Line((28.207506791, -1.6472467687), (26.4200529613, -7.3176028738))
        make_face()
        with BuildLine():
            add(Edge.make_bspline(
                [(5.6451442651, -25.5737133837), (14.0268319161, -25.5737133837), (9.8359880906, -12.2517921706), (5.6451442651, 1.0701290425), (1.4543004397, -12.2517921706), (-2.7365433858, -25.5737133837), (5.6451442651, -25.5737133837)],
                knots=[0, 0, 0, 2.0943951024, 2.0943951024, 4.1887902048, 4.1887902048, 6.2831853072, 6.2831853072, 6.2831853072], degree=2, weights=[1, 0.5, 1, 0.5, 1, 0.5, 1]))
        make_face()
        with BuildLine():
            add(Edge.make_bspline(
                [(18.8640544657, -25.1127919182), (25.9189664889, -25.1127919182), (22.3915104773, -12.5799663365), (18.8640544657, -0.0471407548), (15.336598454, -12.5799663365), (11.8091424424, -25.1127919182), (18.8640544657, -25.1127919182)],
                knots=[0, 0, 0, 2.0943951024, 2.0943951024, 4.1887902048, 4.1887902048, 6.2831853072, 6.2831853072, 6.2831853072], degree=2, weights=[1, 0.5, 1, 0.5, 1, 0.5, 1]))
        make_face()
        with BuildLine():
            add(Edge.make_bspline(
                [(21.4888192713, -32.1785211563), (21.0886401041, -30.7026737238), (4.5085240404, -30.586525108), (0.1995471756, -46.7222859215), (19.5934373704, -43.5732098518), (15.3544410875, -36.0896016912), (21.741761386, -33.1113632456), (21.4888192713, -32.1785211563)],
                knots=[0, 0, 0, 0, 0.249472055, 0.4560450882, 0.6863086185, 0.8423156569, 1, 1, 1, 1], degree=3))
        make_face()
    extrude(amount=-F17_DEPTH, mode=Mode.SUBTRACT)


solid = f1.part
